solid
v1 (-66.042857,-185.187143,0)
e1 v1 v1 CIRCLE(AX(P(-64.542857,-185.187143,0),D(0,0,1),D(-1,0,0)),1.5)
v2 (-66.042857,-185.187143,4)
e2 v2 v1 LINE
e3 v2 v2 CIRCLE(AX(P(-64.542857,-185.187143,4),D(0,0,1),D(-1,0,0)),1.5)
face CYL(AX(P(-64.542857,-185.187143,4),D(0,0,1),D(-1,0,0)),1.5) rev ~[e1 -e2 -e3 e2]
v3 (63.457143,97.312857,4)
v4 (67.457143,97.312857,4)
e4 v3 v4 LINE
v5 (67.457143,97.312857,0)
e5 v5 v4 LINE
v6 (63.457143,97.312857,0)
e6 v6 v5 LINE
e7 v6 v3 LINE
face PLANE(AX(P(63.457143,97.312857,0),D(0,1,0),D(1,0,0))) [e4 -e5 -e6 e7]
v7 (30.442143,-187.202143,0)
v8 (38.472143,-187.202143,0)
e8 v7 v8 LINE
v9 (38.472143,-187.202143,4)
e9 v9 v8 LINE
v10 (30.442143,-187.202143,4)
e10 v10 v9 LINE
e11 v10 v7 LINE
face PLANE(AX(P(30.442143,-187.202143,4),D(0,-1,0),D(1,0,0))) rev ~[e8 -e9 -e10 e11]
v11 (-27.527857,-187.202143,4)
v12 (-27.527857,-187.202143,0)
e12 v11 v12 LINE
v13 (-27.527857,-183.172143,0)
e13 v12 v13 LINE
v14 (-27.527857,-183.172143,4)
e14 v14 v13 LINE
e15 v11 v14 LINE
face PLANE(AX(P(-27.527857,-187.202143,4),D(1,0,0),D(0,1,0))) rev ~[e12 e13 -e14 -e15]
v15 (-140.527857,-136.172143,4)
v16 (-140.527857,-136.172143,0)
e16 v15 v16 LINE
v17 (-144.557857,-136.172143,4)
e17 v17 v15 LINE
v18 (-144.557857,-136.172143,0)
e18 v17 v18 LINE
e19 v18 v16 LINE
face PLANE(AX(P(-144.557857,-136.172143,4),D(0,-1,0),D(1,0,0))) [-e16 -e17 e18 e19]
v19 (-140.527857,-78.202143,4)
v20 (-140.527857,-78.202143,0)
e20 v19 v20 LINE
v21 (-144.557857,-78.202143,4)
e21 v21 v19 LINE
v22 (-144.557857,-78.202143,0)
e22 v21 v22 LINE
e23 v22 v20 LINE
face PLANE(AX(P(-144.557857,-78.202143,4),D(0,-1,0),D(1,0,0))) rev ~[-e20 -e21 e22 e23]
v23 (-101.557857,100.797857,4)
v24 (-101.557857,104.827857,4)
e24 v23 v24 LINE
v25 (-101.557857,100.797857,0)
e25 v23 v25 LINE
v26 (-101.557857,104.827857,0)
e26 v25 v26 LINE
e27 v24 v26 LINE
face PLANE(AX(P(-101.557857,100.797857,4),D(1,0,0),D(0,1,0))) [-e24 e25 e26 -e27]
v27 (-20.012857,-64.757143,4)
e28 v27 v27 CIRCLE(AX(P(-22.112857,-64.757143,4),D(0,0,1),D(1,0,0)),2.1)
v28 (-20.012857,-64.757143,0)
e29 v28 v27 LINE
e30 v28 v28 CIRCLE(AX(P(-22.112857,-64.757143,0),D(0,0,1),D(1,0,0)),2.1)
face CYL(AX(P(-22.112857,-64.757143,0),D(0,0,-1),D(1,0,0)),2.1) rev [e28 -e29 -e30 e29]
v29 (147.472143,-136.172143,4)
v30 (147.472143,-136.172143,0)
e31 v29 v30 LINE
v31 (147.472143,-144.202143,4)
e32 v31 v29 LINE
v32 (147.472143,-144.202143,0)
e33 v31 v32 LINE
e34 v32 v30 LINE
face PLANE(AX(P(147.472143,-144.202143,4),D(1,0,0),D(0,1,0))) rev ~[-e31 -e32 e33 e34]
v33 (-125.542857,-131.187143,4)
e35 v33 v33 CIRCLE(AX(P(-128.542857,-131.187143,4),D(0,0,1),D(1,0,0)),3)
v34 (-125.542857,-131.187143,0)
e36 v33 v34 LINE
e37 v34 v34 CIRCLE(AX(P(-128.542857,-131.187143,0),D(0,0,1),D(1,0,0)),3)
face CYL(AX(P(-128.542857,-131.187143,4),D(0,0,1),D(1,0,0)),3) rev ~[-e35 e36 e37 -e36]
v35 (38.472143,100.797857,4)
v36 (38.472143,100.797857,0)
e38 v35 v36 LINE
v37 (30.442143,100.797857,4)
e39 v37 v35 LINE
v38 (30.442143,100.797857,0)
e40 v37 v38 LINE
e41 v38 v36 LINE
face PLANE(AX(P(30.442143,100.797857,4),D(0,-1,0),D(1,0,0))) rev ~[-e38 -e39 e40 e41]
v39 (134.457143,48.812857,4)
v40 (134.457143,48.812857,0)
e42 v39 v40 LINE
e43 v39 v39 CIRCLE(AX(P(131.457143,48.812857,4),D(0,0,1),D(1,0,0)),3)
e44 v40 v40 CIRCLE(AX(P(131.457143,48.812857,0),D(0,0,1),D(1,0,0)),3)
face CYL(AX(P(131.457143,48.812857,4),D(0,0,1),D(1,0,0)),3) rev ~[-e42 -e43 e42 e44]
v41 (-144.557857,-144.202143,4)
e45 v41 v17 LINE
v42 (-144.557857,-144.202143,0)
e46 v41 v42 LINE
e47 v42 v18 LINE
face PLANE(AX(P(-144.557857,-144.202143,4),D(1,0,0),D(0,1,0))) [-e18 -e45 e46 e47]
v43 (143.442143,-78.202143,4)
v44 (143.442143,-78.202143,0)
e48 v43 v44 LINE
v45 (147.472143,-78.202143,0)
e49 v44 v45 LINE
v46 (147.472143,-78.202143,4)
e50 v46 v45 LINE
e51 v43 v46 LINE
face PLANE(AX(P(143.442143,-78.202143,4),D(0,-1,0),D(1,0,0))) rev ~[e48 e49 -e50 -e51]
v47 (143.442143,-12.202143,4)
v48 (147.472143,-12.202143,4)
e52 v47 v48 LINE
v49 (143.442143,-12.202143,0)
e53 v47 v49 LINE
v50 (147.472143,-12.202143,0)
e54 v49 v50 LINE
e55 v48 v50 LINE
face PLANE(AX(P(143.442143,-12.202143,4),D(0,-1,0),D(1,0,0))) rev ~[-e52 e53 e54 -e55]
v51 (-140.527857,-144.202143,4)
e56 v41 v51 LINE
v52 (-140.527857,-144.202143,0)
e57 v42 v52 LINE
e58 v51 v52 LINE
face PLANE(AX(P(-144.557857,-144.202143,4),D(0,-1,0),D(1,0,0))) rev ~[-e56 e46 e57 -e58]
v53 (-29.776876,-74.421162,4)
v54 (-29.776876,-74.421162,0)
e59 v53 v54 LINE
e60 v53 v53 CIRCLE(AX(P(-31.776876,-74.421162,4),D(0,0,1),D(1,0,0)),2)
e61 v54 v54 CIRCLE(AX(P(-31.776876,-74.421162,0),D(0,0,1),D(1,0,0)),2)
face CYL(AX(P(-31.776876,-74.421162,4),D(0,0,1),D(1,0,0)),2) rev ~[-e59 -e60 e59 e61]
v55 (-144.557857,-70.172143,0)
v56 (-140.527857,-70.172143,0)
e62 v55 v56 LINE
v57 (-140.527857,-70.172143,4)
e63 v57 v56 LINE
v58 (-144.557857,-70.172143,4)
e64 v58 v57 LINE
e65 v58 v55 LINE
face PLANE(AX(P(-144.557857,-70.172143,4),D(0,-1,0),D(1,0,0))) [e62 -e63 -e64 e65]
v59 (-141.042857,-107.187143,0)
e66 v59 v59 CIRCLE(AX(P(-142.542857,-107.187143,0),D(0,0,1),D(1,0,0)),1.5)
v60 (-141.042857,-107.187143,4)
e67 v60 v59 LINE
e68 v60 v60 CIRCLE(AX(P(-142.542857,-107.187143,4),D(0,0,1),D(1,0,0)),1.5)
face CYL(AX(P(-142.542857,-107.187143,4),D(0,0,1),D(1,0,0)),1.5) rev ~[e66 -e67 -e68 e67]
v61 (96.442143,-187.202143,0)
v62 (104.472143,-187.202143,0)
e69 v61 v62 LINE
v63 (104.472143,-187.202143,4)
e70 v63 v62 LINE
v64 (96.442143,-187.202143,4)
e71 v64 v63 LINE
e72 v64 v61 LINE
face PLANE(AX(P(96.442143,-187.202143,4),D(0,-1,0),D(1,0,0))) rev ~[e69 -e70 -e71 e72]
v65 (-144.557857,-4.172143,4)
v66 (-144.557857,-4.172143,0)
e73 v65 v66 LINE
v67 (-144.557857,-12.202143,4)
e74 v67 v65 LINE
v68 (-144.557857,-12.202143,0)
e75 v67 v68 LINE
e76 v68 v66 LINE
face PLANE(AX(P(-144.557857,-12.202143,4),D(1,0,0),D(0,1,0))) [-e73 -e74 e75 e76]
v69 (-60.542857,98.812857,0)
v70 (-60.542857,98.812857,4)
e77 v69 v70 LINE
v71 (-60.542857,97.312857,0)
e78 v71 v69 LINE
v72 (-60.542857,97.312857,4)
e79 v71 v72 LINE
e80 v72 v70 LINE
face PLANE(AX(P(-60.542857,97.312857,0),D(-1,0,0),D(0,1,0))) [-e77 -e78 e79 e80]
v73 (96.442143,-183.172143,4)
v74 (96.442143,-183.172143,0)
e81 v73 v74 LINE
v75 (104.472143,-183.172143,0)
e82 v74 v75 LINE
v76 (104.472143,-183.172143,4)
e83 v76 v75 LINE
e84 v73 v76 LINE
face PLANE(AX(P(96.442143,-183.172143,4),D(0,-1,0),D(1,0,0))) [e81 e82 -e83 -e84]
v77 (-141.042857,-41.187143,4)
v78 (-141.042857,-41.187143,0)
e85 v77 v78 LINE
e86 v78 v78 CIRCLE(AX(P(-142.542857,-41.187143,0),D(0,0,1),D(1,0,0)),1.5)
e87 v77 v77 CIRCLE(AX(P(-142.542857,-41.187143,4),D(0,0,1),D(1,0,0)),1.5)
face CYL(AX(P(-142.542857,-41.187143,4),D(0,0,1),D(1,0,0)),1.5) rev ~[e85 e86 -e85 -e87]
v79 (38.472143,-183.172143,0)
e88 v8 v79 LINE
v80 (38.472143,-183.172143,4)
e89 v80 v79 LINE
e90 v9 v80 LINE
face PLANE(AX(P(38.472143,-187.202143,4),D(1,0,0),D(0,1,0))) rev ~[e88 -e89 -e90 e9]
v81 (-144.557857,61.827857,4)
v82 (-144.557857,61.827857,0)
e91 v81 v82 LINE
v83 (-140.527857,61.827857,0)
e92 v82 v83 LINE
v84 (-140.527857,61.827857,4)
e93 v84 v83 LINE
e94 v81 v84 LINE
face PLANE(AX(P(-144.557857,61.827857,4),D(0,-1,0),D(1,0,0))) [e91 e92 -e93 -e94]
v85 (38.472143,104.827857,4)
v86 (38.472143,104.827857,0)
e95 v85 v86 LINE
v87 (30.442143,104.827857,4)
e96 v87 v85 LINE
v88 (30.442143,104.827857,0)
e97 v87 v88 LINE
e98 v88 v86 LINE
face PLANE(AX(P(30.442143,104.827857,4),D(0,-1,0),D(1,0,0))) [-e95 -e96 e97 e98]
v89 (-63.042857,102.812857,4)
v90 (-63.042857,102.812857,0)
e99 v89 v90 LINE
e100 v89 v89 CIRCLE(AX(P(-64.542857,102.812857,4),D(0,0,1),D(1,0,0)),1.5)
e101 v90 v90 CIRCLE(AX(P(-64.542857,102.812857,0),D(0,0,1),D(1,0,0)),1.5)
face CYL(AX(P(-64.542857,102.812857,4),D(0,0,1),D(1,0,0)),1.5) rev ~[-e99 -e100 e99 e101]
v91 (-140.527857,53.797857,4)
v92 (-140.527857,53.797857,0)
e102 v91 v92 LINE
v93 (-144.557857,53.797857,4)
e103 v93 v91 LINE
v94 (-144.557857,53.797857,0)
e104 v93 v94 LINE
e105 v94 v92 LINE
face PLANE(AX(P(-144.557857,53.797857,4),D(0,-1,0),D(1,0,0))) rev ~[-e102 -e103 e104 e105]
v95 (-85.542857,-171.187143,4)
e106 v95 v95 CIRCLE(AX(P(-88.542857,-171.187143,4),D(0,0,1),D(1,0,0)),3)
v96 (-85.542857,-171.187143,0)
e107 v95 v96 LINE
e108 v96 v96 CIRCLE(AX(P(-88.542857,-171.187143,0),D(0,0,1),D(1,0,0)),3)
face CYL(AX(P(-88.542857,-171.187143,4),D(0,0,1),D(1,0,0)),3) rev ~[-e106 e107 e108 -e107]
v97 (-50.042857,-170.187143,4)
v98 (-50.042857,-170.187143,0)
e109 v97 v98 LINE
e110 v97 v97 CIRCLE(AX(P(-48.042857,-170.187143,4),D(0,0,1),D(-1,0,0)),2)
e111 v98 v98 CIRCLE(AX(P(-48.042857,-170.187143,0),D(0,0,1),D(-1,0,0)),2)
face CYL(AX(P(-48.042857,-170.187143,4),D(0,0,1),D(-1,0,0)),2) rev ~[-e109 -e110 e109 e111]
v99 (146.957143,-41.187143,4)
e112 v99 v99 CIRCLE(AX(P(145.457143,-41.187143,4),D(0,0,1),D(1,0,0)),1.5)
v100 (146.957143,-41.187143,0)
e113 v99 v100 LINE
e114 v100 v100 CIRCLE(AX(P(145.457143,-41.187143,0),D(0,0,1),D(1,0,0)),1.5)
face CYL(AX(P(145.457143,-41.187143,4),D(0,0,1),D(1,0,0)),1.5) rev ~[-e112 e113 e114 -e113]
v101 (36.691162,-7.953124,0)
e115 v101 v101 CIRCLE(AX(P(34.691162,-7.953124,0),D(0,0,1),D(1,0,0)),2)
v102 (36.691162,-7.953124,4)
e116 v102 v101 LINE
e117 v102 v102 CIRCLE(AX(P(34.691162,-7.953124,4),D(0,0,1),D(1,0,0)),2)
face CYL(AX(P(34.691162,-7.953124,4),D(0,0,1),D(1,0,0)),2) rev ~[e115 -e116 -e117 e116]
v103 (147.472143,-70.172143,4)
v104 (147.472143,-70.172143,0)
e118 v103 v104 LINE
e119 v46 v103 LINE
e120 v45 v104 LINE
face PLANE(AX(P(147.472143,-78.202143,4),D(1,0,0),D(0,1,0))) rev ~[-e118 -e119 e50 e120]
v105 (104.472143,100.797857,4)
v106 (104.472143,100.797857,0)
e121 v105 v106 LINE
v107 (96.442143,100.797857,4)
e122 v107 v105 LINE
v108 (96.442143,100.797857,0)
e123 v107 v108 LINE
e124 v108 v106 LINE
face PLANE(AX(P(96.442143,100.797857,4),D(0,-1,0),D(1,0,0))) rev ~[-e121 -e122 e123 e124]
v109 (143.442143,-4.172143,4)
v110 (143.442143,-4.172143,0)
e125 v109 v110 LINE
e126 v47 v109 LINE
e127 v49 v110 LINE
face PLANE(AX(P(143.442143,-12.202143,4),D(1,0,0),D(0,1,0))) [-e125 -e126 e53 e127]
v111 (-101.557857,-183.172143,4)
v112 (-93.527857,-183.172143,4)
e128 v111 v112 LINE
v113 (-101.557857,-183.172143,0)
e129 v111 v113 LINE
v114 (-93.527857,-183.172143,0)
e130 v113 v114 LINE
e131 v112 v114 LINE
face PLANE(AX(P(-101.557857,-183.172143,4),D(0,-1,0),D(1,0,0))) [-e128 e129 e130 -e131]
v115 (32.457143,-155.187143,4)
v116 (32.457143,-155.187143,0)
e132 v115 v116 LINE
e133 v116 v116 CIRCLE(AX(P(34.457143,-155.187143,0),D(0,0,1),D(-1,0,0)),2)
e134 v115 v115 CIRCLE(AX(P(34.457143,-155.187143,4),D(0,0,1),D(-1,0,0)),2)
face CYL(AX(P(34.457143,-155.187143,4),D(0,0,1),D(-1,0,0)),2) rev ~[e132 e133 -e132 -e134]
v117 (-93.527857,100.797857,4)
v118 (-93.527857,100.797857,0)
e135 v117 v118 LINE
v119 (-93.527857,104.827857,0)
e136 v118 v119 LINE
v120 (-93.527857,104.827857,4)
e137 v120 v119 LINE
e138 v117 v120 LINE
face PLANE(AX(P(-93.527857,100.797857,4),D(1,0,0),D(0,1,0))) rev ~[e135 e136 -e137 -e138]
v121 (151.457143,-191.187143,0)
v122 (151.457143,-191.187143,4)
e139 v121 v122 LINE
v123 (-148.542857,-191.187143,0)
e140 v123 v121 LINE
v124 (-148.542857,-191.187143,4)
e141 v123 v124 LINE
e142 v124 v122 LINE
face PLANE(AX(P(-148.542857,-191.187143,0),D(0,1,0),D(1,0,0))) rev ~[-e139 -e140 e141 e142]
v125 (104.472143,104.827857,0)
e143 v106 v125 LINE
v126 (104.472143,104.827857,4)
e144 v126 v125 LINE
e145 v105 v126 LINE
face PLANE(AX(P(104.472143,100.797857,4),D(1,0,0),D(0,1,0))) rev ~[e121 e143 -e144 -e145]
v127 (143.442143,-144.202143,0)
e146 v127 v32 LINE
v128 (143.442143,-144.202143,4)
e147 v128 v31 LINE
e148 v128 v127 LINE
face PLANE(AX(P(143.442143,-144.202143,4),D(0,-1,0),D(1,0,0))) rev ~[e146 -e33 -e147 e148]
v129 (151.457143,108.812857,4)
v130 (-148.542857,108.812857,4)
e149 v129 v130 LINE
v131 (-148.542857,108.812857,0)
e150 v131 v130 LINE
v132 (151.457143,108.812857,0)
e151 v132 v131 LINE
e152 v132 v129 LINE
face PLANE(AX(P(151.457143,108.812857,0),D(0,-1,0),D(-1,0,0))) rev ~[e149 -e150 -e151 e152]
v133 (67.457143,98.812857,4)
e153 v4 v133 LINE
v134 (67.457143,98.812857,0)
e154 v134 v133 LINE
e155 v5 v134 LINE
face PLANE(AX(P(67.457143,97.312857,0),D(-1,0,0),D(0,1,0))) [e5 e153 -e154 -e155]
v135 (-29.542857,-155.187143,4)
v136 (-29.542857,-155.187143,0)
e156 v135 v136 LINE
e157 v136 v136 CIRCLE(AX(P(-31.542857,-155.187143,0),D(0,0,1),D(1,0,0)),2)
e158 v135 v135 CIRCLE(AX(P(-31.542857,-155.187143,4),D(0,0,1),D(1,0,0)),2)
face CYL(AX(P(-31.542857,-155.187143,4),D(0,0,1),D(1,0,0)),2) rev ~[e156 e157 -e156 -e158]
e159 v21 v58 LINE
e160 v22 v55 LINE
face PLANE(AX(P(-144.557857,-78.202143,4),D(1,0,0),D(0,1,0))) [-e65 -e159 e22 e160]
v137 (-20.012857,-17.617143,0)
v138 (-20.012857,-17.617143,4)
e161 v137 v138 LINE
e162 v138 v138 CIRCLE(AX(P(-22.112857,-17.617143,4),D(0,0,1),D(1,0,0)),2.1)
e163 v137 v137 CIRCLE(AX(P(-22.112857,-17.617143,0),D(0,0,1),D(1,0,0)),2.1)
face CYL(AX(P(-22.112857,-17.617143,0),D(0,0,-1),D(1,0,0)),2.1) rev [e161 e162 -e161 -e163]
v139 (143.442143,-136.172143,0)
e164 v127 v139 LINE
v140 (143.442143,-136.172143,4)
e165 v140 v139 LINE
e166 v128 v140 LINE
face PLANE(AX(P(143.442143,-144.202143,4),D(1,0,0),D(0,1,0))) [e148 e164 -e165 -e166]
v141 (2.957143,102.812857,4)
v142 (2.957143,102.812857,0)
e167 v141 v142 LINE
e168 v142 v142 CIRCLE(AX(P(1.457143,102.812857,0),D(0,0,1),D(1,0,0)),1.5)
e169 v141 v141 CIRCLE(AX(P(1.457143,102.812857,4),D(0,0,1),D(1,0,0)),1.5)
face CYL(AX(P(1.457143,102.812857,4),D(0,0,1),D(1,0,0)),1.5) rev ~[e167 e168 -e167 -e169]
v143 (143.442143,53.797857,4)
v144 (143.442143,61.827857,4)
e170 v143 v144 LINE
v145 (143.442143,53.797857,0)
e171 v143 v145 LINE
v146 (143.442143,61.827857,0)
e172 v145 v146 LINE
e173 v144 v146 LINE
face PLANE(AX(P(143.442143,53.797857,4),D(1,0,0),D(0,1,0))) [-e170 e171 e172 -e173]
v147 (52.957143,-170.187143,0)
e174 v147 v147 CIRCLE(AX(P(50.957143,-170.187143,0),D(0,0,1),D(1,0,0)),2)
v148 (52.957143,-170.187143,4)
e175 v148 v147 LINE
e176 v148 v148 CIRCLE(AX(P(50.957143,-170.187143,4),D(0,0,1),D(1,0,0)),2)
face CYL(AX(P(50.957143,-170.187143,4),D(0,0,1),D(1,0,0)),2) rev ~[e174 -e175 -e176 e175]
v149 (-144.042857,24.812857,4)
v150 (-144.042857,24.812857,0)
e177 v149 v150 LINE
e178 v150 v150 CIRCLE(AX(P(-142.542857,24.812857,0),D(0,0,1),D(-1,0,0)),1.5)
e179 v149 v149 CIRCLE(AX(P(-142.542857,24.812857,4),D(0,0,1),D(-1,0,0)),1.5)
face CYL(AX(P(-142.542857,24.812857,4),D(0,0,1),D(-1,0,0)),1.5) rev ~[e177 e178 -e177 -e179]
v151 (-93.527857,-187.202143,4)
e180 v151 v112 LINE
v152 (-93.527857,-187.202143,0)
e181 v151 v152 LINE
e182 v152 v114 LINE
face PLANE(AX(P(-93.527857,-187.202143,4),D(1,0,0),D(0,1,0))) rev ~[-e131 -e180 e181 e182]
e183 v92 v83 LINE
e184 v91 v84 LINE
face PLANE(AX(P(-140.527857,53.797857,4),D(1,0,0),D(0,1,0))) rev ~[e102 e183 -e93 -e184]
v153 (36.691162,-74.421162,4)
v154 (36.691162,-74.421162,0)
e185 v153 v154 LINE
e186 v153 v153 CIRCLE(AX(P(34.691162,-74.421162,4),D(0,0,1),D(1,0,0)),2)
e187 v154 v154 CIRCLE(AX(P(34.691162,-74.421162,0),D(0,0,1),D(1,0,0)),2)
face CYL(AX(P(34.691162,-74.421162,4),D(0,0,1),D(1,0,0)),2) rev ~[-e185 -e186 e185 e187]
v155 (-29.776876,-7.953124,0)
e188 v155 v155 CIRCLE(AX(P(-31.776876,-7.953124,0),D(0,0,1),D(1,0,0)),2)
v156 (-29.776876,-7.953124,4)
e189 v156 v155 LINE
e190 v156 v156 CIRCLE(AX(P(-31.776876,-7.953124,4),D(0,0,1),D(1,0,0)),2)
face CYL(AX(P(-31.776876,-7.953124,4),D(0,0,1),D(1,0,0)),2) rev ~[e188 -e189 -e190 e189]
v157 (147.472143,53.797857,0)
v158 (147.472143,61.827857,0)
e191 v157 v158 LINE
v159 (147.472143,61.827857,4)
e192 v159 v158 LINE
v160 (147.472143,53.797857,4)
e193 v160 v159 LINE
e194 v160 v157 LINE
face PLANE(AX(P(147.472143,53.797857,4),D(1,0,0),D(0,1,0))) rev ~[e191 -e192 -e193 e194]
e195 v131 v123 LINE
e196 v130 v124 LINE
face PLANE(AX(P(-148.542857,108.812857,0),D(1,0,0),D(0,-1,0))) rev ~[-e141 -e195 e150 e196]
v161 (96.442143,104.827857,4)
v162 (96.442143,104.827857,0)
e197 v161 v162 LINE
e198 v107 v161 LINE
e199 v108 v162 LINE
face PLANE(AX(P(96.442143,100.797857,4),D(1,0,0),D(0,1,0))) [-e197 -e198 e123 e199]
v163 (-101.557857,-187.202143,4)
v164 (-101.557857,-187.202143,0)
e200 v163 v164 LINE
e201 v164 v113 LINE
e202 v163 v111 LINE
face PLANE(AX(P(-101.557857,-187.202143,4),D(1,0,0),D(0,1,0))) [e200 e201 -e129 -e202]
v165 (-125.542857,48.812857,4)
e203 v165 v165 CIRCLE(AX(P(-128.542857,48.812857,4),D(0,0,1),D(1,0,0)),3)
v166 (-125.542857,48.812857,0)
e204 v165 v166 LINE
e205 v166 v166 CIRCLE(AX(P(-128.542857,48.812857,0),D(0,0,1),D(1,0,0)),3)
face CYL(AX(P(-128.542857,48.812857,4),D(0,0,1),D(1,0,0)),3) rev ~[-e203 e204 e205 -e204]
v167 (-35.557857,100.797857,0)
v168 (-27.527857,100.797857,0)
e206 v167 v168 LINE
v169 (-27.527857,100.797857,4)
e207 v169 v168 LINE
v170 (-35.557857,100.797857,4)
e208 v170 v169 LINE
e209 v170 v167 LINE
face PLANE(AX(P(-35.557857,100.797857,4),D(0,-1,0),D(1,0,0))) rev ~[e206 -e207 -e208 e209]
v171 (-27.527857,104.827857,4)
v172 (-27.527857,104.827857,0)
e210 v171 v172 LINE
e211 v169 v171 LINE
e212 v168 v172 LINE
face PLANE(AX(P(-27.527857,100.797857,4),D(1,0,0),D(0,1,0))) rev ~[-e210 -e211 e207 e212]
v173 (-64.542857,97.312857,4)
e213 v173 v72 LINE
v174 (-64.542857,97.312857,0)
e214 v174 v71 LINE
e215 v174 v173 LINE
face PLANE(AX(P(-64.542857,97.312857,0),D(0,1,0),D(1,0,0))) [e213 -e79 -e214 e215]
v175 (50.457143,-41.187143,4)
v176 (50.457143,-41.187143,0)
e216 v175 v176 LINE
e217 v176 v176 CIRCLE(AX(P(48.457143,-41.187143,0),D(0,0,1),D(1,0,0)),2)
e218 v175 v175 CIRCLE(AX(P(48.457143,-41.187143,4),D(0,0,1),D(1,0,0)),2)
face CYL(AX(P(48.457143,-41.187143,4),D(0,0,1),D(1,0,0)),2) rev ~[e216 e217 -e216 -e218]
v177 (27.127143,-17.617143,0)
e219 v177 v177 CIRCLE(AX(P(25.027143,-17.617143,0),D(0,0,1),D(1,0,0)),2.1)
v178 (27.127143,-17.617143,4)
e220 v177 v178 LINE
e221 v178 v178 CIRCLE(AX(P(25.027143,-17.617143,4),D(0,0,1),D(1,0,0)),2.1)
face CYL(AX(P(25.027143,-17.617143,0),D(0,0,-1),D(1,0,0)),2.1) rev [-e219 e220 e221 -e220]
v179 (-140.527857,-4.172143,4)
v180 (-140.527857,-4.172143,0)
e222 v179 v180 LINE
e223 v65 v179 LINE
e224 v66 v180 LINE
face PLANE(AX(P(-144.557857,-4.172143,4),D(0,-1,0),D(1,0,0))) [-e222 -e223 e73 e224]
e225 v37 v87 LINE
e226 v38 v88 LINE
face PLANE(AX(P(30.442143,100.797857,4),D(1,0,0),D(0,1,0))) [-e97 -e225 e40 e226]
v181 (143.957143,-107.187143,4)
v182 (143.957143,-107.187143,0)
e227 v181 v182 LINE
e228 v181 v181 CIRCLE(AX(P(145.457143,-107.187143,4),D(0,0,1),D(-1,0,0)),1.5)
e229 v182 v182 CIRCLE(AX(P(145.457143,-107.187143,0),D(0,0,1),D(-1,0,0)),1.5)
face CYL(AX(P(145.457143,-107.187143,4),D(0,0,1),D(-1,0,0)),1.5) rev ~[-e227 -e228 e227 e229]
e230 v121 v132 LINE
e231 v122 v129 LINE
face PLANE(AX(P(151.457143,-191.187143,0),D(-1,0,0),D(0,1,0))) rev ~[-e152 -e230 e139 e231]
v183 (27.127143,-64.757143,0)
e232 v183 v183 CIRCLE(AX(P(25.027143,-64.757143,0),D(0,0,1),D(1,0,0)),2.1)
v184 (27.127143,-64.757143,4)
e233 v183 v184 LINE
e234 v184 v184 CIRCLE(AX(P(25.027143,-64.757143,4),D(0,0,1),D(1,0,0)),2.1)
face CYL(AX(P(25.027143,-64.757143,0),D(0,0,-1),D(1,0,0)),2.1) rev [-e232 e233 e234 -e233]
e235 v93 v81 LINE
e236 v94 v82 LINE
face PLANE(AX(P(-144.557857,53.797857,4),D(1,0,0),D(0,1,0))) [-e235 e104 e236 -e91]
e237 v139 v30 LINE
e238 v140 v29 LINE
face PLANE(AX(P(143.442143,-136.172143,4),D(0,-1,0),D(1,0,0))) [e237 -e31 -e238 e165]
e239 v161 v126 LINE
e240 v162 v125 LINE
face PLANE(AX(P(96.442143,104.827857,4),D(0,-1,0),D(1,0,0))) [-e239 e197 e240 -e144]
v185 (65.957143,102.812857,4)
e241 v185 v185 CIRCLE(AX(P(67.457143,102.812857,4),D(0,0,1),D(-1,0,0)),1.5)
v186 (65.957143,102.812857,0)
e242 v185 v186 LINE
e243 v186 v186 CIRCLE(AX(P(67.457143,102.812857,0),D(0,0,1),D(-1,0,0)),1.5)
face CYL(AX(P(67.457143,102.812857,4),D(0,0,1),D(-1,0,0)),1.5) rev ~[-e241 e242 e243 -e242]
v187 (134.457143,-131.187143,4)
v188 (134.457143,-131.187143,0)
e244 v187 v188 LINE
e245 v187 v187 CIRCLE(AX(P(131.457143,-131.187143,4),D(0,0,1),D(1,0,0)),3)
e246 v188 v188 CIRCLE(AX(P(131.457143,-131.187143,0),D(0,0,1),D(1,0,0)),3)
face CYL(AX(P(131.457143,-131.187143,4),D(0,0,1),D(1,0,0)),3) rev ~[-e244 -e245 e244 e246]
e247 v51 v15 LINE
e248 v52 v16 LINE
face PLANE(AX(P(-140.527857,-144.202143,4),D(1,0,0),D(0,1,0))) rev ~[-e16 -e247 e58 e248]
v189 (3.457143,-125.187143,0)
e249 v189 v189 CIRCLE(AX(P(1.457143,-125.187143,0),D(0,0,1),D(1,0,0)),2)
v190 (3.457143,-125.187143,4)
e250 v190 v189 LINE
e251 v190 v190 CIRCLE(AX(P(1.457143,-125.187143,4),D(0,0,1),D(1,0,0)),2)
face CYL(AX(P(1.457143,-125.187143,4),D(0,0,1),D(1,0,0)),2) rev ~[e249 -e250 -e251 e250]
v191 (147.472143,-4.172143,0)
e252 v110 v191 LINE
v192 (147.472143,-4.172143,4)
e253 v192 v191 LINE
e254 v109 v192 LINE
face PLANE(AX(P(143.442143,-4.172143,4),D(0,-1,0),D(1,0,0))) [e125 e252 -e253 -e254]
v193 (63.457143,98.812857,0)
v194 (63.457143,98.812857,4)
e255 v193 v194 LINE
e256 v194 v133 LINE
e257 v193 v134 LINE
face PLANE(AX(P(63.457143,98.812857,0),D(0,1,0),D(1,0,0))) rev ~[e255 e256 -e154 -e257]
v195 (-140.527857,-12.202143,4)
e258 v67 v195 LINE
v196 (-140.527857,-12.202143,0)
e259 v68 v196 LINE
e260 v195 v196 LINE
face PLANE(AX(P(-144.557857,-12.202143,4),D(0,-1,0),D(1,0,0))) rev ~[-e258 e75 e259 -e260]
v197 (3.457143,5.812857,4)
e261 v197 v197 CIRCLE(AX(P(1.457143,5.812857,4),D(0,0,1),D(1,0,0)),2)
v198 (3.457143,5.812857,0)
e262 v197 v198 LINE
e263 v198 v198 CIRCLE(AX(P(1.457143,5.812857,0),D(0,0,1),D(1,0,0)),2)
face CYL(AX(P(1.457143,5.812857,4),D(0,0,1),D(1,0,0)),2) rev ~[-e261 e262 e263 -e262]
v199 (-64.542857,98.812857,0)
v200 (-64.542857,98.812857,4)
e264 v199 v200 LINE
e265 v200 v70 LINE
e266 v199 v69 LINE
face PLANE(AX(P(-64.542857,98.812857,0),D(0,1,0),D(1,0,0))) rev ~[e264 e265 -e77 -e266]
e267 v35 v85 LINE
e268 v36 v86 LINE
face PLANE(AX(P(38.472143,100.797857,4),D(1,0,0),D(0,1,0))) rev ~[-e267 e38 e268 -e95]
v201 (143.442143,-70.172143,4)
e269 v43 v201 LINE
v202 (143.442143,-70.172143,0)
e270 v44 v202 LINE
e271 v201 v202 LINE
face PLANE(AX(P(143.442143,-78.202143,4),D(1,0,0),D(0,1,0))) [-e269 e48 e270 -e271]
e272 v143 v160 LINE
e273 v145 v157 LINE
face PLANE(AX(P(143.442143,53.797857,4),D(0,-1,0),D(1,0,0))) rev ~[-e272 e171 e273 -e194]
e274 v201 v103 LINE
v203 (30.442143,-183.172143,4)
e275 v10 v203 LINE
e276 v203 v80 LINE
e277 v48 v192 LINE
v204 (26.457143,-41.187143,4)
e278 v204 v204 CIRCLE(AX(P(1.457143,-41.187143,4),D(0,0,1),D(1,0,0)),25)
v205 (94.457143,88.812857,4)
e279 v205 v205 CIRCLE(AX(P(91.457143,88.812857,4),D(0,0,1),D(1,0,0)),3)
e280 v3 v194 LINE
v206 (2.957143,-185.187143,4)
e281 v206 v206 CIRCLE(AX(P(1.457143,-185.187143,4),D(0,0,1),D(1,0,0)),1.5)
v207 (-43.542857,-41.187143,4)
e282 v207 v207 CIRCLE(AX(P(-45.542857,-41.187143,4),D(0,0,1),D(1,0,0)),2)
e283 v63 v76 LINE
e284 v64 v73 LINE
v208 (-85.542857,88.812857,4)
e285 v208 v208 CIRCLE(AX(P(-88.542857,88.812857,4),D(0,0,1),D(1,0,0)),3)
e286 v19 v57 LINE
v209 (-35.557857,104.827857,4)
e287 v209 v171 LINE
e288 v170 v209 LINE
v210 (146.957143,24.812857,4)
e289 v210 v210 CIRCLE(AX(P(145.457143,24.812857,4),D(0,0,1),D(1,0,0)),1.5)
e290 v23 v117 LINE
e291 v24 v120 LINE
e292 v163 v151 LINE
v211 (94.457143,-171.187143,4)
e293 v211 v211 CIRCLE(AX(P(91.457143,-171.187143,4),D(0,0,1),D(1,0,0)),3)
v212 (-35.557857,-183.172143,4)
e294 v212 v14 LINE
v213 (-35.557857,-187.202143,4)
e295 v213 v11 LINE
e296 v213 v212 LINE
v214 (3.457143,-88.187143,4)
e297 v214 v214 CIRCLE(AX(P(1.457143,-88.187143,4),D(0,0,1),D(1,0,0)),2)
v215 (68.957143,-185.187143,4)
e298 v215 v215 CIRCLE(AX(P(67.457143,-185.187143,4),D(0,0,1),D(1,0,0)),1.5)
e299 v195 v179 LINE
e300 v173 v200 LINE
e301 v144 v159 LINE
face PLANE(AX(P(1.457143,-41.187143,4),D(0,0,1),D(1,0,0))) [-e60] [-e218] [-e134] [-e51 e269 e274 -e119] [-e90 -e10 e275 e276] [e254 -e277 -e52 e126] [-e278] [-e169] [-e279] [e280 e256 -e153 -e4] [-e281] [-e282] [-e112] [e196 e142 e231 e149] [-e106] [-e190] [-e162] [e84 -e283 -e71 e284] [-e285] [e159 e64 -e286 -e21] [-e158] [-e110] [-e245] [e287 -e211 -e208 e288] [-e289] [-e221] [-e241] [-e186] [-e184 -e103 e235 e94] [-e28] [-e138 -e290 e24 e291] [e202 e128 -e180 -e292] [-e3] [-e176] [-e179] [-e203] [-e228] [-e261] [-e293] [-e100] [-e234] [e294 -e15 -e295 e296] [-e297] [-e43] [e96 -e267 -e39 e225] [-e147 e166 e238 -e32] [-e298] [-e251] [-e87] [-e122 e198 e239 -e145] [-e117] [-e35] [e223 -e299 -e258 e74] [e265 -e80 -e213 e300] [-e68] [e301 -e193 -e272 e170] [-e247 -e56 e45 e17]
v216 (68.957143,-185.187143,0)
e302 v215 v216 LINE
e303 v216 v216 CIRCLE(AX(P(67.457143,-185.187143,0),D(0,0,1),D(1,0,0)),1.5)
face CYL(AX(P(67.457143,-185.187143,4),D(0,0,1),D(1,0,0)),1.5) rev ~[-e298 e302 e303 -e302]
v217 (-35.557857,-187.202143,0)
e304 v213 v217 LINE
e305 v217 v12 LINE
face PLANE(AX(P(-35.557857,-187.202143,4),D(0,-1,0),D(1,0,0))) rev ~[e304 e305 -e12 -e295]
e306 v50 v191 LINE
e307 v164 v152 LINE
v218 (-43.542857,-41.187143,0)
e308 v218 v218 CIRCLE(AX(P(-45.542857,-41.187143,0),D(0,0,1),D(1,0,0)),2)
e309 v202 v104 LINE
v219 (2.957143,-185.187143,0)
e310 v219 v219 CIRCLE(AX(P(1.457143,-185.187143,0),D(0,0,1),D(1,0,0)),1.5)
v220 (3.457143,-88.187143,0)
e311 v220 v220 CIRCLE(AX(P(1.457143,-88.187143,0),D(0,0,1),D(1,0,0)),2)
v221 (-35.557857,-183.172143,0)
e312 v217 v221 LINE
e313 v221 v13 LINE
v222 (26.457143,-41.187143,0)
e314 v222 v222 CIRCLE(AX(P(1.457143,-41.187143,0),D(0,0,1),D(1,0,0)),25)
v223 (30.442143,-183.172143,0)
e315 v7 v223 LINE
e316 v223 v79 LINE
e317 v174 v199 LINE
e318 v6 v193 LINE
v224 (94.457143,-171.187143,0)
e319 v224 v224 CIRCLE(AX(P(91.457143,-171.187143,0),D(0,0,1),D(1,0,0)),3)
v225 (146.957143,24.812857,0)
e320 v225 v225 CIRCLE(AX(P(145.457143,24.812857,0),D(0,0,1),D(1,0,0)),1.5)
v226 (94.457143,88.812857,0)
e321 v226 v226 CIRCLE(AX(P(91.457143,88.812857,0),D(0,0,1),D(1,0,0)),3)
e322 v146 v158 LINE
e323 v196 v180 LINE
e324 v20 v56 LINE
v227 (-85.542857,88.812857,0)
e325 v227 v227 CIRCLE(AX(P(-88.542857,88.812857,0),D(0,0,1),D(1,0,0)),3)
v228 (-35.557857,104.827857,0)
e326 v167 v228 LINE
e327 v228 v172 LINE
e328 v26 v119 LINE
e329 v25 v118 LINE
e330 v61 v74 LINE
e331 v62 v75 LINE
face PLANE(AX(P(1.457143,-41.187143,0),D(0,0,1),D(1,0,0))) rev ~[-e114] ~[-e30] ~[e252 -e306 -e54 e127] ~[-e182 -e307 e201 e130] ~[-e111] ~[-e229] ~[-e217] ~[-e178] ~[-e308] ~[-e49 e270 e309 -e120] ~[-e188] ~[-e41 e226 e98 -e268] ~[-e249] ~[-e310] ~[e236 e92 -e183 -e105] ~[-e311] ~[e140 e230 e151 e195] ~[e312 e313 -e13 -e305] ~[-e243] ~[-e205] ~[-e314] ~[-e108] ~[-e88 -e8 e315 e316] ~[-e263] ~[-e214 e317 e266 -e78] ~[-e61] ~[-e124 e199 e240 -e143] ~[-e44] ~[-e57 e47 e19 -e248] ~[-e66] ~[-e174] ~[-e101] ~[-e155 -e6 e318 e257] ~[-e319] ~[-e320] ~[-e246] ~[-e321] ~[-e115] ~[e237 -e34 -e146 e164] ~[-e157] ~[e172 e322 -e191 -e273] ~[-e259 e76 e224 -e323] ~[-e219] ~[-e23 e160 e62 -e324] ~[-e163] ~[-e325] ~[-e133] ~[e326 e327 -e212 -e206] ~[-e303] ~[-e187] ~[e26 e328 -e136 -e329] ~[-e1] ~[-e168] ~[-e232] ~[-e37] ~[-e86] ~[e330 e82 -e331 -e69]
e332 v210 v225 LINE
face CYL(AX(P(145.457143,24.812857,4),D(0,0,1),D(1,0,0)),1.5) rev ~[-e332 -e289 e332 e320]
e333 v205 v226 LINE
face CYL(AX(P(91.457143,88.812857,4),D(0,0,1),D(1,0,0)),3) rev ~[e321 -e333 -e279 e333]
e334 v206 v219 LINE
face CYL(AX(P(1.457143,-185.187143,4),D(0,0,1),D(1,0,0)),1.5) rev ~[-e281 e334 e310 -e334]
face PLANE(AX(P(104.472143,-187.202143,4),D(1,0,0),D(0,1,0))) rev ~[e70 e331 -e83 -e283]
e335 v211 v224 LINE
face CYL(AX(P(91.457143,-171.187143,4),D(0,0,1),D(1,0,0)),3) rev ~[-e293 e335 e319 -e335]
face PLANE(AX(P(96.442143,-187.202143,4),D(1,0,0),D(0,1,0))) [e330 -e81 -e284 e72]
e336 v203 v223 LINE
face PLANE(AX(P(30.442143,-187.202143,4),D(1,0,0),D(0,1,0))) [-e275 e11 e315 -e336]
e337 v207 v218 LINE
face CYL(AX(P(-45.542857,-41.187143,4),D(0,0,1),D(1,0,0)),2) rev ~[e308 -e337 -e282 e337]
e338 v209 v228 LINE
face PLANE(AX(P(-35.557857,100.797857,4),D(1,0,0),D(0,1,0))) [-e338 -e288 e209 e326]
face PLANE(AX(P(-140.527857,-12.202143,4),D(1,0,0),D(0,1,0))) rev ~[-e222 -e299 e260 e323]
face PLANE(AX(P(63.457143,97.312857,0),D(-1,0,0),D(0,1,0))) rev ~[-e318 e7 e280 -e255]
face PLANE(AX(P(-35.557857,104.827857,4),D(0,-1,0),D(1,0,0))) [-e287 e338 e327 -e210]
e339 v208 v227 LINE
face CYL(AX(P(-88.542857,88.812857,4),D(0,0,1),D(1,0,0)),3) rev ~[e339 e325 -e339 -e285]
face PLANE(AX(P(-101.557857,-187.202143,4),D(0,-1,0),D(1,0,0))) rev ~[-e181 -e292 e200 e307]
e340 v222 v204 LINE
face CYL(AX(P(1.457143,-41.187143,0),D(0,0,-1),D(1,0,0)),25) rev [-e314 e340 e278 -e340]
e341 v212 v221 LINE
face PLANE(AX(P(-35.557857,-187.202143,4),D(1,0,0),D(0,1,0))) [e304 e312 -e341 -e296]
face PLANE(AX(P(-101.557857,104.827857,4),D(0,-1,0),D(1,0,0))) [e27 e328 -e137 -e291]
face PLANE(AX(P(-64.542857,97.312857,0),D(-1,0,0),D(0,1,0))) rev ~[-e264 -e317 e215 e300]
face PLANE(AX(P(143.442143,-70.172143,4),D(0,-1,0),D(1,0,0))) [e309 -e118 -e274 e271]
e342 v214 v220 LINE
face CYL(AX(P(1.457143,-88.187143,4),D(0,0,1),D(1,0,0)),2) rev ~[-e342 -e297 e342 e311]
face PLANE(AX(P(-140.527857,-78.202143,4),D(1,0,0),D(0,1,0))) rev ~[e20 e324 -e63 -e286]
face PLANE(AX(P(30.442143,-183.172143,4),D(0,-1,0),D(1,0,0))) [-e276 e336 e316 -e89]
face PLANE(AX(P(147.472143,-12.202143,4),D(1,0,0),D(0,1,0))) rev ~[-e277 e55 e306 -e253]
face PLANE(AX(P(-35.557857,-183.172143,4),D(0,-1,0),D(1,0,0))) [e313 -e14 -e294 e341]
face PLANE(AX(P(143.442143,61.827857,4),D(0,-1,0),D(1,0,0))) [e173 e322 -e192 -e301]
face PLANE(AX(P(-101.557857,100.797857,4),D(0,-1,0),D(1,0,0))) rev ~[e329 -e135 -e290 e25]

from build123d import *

# Parameters (mm, degrees)
SKETCH_1_R          = 25
SKETCH_1_R_2        = 2.1
SKETCH_1_W          = 4
SKETCH_1_H          = 1.5
EXTRUDE_1_DEPTH     = 4
SKETCH_3_R          = 1.5
SKETCH_3_R_2        = 2
SKETCH_3_W          = 8.03
SKETCH_3_H          = 4.03
SKETCH_3_W_2        = 4.03
SKETCH_3_H_2        = 8.03
CUT_EXTRUDE_2_DEPTH = 4
SKETCH_7_R          = 3
CUT_EXTRUDE_3_DEPTH = 10


with BuildPart() as part:
    # 草图1 → 凸台-拉伸1 (new body)
    with BuildSketch(Plane.XY):
        Polygon((151.457142857, -41.187142857), (151.457142857, 108.812857143), (-148.542857143, 108.812857143), (-148.542857143, -191.187142857), (151.457142857, -191.187142857), align=None)
        with Locations((1.457142857, -41.187142857)):
            Circle(SKETCH_1_R, mode=Mode.SUBTRACT)
        with Locations((25.027142857, -17.617142857)):
            Circle(SKETCH_1_R_2, mode=Mode.SUBTRACT)
        with Locations((25.027142857, -64.757142857)):
            Circle(SKETCH_1_R_2, mode=Mode.SUBTRACT)
        with Locations((-22.112857143, -64.757142857)):
            Circle(SKETCH_1_R_2, mode=Mode.SUBTRACT)
        with Locations((-22.112857143, -17.617142857)):
            Circle(SKETCH_1_R_2, mode=Mode.SUBTRACT)
        with Locations((65.457142857, 98.062857143)):
            Rectangle(SKETCH_1_W, SKETCH_1_H, mode=Mode.SUBTRACT)
        with Locations((-62.542857143, 98.062857143)):
            Rectangle(SKETCH_1_W, SKETCH_1_H, mode=Mode.SUBTRACT)
    extrude(amount=EXTRUDE_1_DEPTH)

    # 草图3 → 切除-拉伸2 (cut)
    with BuildSketch(Plane.XY.offset(4)):
        with Locations((1.457142857, -185.187142857)):
            Circle(SKETCH_3_R)
        with Locations((67.457142857, -185.187142857)):
            Circle(SKETCH_3_R)
        with Locations(Location((-64.542857143, -185.187142857, 0), (0, 0, 180))):
            Circle(SKETCH_3_R)
        with Locations(Location((-142.542857143, 24.812857143, 0), (0, 0, 180))):
            Circle(SKETCH_3_R)
        with Locations((-142.542857143, -41.187142857)):
            Circle(SKETCH_3_R)
        with Locations((-142.542857143, -107.187142857)):
            Circle(SKETCH_3_R)
        with Locations(Location((67.457142857, 102.812857143, 0), (0, 0, 180))):
            Circle(SKETCH_3_R)
        with Locations((1.457142857, 102.812857143)):
            Circle(SKETCH_3_R)
        with Locations((-64.542857143, 102.812857143)):
            Circle(SKETCH_3_R)
        with Locations(Location((145.457142857, -107.187142857, 0), (0, 0, 180))):
            Circle(SKETCH_3_R)
        with Locations((145.457142857, -41.187142857)):
            Circle(SKETCH_3_R)
        with Locations((145.457142857, 24.812857143)):
            Circle(SKETCH_3_R)
        with Locations((50.957142857, -170.187142857)):
            Circle(SKETCH_3_R_2)
        with Locations(Location((-48.042857143, -170.187142857, 0), (0, 0, 180))):
            Circle(SKETCH_3_R_2)
        with Locations((-31.542857143, -155.187142857)):
            Circle(SKETCH_3_R_2)
        with Locations(Location((34.457142857, -155.187142857, 0), (0, 0, 180))):
            Circle(SKETCH_3_R_2)
        with Locations((1.457142857, -88.187142857)):
            Circle(SKETCH_3_R_2)
        with Locations((-31.776875859, -74.421161573)):
            Circle(SKETCH_3_R_2)
        with Locations((-45.542857143, -41.187142857)):
            Circle(SKETCH_3_R_2)
        with Locations((-31.776875859, -7.953124141)):
            Circle(SKETCH_3_R_2)
        with Locations((1.457142857, 5.812857143)):
            Circle(SKETCH_3_R_2)
        with Locations((34.691161573, -7.953124141)):
            Circle(SKETCH_3_R_2)
        with Locations((48.457142857, -41.187142857)):
            Circle(SKETCH_3_R_2)
        with Locations((34.691161573, -74.421161573)):
            Circle(SKETCH_3_R_2)
        with Locations((1.457142857, -125.187142857)):
            Circle(SKETCH_3_R_2)
        with Locations((100.457142857, -185.187142857)):
            Rectangle(SKETCH_3_W, SKETCH_3_H)
        with Locations((34.457142857, -185.187142857)):
            Rectangle(SKETCH_3_W, SKETCH_3_H)
        with Locations((-31.542857143, -185.187142857)):
            Rectangle(SKETCH_3_W, SKETCH_3_H)
        with Locations((-97.542857143, -185.187142857)):
            Rectangle(SKETCH_3_W, SKETCH_3_H)
        with Locations((-142.542857143, 57.812857143)):
            Rectangle(SKETCH_3_W_2, SKETCH_3_H_2)
        with Locations((-142.542857143, -8.187142857)):
            Rectangle(SKETCH_3_W_2, SKETCH_3_H_2)
        with Locations((-142.542857143, -74.187142857)):
            Rectangle(SKETCH_3_W_2, SKETCH_3_H_2)
        with Locations((-142.542857143, -140.187142857)):
            Rectangle(SKETCH_3_W_2, SKETCH_3_H_2)
        with Locations((100.457142857, 102.812857143)):
            Rectangle(SKETCH_3_W, SKETCH_3_H)
        with Locations((34.457142857, 102.812857143)):
            Rectangle(SKETCH_3_W, SKETCH_3_H)
        with Locations((-31.542857143, 102.812857143)):
            Rectangle(SKETCH_3_W, SKETCH_3_H)
        with Locations((-97.542857143, 102.812857143)):
            Rectangle(SKETCH_3_W, SKETCH_3_H)
        with Locations((145.457142857, -140.187142857)):
            Rectangle(SKETCH_3_W_2, SKETCH_3_H_2)
        with Locations((145.457142857, -74.187142857)):
            Rectangle(SKETCH_3_W_2, SKETCH_3_H_2)
        with Locations((145.457142857, -8.187142857)):
            Rectangle(SKETCH_3_W_2, SKETCH_3_H_2)
        with Locations((145.457142857, 57.812857143)):
            Rectangle(SKETCH_3_W_2, SKETCH_3_H_2)
    extrude(amount=-CUT_EXTRUDE_2_DEPTH, mode=Mode.SUBTRACT)

    # 草图7 → 切除-拉伸3 (cut)
    with BuildSketch(Plane.XY.offset(4)):
        with Locations((-88.542857143, -171.187142857)):
            Circle(SKETCH_7_R)
        with Locations((91.457142857, -171.187142857)):
            Circle(SKETCH_7_R)
        with Locations((-128.542857143, 48.812857143)):
            Circle(SKETCH_7_R)
        with Locations((-128.542857143, -131.187142857)):
            Circle(SKETCH_7_R)
        with Locations((91.457142857, 88.812857143)):
            Circle(SKETCH_7_R)
        with Locations((-88.542857143, 88.812857143)):
            Circle(SKETCH_7_R)
        with Locations((131.457142857, -131.187142857)):
            Circle(SKETCH_7_R)
        with Locations((131.457142857, 48.812857143)):
            Circle(SKETCH_7_R)
    extrude(amount=-CUT_EXTRUDE_3_DEPTH, mode=Mode.SUBTRACT)


solid = part.part
